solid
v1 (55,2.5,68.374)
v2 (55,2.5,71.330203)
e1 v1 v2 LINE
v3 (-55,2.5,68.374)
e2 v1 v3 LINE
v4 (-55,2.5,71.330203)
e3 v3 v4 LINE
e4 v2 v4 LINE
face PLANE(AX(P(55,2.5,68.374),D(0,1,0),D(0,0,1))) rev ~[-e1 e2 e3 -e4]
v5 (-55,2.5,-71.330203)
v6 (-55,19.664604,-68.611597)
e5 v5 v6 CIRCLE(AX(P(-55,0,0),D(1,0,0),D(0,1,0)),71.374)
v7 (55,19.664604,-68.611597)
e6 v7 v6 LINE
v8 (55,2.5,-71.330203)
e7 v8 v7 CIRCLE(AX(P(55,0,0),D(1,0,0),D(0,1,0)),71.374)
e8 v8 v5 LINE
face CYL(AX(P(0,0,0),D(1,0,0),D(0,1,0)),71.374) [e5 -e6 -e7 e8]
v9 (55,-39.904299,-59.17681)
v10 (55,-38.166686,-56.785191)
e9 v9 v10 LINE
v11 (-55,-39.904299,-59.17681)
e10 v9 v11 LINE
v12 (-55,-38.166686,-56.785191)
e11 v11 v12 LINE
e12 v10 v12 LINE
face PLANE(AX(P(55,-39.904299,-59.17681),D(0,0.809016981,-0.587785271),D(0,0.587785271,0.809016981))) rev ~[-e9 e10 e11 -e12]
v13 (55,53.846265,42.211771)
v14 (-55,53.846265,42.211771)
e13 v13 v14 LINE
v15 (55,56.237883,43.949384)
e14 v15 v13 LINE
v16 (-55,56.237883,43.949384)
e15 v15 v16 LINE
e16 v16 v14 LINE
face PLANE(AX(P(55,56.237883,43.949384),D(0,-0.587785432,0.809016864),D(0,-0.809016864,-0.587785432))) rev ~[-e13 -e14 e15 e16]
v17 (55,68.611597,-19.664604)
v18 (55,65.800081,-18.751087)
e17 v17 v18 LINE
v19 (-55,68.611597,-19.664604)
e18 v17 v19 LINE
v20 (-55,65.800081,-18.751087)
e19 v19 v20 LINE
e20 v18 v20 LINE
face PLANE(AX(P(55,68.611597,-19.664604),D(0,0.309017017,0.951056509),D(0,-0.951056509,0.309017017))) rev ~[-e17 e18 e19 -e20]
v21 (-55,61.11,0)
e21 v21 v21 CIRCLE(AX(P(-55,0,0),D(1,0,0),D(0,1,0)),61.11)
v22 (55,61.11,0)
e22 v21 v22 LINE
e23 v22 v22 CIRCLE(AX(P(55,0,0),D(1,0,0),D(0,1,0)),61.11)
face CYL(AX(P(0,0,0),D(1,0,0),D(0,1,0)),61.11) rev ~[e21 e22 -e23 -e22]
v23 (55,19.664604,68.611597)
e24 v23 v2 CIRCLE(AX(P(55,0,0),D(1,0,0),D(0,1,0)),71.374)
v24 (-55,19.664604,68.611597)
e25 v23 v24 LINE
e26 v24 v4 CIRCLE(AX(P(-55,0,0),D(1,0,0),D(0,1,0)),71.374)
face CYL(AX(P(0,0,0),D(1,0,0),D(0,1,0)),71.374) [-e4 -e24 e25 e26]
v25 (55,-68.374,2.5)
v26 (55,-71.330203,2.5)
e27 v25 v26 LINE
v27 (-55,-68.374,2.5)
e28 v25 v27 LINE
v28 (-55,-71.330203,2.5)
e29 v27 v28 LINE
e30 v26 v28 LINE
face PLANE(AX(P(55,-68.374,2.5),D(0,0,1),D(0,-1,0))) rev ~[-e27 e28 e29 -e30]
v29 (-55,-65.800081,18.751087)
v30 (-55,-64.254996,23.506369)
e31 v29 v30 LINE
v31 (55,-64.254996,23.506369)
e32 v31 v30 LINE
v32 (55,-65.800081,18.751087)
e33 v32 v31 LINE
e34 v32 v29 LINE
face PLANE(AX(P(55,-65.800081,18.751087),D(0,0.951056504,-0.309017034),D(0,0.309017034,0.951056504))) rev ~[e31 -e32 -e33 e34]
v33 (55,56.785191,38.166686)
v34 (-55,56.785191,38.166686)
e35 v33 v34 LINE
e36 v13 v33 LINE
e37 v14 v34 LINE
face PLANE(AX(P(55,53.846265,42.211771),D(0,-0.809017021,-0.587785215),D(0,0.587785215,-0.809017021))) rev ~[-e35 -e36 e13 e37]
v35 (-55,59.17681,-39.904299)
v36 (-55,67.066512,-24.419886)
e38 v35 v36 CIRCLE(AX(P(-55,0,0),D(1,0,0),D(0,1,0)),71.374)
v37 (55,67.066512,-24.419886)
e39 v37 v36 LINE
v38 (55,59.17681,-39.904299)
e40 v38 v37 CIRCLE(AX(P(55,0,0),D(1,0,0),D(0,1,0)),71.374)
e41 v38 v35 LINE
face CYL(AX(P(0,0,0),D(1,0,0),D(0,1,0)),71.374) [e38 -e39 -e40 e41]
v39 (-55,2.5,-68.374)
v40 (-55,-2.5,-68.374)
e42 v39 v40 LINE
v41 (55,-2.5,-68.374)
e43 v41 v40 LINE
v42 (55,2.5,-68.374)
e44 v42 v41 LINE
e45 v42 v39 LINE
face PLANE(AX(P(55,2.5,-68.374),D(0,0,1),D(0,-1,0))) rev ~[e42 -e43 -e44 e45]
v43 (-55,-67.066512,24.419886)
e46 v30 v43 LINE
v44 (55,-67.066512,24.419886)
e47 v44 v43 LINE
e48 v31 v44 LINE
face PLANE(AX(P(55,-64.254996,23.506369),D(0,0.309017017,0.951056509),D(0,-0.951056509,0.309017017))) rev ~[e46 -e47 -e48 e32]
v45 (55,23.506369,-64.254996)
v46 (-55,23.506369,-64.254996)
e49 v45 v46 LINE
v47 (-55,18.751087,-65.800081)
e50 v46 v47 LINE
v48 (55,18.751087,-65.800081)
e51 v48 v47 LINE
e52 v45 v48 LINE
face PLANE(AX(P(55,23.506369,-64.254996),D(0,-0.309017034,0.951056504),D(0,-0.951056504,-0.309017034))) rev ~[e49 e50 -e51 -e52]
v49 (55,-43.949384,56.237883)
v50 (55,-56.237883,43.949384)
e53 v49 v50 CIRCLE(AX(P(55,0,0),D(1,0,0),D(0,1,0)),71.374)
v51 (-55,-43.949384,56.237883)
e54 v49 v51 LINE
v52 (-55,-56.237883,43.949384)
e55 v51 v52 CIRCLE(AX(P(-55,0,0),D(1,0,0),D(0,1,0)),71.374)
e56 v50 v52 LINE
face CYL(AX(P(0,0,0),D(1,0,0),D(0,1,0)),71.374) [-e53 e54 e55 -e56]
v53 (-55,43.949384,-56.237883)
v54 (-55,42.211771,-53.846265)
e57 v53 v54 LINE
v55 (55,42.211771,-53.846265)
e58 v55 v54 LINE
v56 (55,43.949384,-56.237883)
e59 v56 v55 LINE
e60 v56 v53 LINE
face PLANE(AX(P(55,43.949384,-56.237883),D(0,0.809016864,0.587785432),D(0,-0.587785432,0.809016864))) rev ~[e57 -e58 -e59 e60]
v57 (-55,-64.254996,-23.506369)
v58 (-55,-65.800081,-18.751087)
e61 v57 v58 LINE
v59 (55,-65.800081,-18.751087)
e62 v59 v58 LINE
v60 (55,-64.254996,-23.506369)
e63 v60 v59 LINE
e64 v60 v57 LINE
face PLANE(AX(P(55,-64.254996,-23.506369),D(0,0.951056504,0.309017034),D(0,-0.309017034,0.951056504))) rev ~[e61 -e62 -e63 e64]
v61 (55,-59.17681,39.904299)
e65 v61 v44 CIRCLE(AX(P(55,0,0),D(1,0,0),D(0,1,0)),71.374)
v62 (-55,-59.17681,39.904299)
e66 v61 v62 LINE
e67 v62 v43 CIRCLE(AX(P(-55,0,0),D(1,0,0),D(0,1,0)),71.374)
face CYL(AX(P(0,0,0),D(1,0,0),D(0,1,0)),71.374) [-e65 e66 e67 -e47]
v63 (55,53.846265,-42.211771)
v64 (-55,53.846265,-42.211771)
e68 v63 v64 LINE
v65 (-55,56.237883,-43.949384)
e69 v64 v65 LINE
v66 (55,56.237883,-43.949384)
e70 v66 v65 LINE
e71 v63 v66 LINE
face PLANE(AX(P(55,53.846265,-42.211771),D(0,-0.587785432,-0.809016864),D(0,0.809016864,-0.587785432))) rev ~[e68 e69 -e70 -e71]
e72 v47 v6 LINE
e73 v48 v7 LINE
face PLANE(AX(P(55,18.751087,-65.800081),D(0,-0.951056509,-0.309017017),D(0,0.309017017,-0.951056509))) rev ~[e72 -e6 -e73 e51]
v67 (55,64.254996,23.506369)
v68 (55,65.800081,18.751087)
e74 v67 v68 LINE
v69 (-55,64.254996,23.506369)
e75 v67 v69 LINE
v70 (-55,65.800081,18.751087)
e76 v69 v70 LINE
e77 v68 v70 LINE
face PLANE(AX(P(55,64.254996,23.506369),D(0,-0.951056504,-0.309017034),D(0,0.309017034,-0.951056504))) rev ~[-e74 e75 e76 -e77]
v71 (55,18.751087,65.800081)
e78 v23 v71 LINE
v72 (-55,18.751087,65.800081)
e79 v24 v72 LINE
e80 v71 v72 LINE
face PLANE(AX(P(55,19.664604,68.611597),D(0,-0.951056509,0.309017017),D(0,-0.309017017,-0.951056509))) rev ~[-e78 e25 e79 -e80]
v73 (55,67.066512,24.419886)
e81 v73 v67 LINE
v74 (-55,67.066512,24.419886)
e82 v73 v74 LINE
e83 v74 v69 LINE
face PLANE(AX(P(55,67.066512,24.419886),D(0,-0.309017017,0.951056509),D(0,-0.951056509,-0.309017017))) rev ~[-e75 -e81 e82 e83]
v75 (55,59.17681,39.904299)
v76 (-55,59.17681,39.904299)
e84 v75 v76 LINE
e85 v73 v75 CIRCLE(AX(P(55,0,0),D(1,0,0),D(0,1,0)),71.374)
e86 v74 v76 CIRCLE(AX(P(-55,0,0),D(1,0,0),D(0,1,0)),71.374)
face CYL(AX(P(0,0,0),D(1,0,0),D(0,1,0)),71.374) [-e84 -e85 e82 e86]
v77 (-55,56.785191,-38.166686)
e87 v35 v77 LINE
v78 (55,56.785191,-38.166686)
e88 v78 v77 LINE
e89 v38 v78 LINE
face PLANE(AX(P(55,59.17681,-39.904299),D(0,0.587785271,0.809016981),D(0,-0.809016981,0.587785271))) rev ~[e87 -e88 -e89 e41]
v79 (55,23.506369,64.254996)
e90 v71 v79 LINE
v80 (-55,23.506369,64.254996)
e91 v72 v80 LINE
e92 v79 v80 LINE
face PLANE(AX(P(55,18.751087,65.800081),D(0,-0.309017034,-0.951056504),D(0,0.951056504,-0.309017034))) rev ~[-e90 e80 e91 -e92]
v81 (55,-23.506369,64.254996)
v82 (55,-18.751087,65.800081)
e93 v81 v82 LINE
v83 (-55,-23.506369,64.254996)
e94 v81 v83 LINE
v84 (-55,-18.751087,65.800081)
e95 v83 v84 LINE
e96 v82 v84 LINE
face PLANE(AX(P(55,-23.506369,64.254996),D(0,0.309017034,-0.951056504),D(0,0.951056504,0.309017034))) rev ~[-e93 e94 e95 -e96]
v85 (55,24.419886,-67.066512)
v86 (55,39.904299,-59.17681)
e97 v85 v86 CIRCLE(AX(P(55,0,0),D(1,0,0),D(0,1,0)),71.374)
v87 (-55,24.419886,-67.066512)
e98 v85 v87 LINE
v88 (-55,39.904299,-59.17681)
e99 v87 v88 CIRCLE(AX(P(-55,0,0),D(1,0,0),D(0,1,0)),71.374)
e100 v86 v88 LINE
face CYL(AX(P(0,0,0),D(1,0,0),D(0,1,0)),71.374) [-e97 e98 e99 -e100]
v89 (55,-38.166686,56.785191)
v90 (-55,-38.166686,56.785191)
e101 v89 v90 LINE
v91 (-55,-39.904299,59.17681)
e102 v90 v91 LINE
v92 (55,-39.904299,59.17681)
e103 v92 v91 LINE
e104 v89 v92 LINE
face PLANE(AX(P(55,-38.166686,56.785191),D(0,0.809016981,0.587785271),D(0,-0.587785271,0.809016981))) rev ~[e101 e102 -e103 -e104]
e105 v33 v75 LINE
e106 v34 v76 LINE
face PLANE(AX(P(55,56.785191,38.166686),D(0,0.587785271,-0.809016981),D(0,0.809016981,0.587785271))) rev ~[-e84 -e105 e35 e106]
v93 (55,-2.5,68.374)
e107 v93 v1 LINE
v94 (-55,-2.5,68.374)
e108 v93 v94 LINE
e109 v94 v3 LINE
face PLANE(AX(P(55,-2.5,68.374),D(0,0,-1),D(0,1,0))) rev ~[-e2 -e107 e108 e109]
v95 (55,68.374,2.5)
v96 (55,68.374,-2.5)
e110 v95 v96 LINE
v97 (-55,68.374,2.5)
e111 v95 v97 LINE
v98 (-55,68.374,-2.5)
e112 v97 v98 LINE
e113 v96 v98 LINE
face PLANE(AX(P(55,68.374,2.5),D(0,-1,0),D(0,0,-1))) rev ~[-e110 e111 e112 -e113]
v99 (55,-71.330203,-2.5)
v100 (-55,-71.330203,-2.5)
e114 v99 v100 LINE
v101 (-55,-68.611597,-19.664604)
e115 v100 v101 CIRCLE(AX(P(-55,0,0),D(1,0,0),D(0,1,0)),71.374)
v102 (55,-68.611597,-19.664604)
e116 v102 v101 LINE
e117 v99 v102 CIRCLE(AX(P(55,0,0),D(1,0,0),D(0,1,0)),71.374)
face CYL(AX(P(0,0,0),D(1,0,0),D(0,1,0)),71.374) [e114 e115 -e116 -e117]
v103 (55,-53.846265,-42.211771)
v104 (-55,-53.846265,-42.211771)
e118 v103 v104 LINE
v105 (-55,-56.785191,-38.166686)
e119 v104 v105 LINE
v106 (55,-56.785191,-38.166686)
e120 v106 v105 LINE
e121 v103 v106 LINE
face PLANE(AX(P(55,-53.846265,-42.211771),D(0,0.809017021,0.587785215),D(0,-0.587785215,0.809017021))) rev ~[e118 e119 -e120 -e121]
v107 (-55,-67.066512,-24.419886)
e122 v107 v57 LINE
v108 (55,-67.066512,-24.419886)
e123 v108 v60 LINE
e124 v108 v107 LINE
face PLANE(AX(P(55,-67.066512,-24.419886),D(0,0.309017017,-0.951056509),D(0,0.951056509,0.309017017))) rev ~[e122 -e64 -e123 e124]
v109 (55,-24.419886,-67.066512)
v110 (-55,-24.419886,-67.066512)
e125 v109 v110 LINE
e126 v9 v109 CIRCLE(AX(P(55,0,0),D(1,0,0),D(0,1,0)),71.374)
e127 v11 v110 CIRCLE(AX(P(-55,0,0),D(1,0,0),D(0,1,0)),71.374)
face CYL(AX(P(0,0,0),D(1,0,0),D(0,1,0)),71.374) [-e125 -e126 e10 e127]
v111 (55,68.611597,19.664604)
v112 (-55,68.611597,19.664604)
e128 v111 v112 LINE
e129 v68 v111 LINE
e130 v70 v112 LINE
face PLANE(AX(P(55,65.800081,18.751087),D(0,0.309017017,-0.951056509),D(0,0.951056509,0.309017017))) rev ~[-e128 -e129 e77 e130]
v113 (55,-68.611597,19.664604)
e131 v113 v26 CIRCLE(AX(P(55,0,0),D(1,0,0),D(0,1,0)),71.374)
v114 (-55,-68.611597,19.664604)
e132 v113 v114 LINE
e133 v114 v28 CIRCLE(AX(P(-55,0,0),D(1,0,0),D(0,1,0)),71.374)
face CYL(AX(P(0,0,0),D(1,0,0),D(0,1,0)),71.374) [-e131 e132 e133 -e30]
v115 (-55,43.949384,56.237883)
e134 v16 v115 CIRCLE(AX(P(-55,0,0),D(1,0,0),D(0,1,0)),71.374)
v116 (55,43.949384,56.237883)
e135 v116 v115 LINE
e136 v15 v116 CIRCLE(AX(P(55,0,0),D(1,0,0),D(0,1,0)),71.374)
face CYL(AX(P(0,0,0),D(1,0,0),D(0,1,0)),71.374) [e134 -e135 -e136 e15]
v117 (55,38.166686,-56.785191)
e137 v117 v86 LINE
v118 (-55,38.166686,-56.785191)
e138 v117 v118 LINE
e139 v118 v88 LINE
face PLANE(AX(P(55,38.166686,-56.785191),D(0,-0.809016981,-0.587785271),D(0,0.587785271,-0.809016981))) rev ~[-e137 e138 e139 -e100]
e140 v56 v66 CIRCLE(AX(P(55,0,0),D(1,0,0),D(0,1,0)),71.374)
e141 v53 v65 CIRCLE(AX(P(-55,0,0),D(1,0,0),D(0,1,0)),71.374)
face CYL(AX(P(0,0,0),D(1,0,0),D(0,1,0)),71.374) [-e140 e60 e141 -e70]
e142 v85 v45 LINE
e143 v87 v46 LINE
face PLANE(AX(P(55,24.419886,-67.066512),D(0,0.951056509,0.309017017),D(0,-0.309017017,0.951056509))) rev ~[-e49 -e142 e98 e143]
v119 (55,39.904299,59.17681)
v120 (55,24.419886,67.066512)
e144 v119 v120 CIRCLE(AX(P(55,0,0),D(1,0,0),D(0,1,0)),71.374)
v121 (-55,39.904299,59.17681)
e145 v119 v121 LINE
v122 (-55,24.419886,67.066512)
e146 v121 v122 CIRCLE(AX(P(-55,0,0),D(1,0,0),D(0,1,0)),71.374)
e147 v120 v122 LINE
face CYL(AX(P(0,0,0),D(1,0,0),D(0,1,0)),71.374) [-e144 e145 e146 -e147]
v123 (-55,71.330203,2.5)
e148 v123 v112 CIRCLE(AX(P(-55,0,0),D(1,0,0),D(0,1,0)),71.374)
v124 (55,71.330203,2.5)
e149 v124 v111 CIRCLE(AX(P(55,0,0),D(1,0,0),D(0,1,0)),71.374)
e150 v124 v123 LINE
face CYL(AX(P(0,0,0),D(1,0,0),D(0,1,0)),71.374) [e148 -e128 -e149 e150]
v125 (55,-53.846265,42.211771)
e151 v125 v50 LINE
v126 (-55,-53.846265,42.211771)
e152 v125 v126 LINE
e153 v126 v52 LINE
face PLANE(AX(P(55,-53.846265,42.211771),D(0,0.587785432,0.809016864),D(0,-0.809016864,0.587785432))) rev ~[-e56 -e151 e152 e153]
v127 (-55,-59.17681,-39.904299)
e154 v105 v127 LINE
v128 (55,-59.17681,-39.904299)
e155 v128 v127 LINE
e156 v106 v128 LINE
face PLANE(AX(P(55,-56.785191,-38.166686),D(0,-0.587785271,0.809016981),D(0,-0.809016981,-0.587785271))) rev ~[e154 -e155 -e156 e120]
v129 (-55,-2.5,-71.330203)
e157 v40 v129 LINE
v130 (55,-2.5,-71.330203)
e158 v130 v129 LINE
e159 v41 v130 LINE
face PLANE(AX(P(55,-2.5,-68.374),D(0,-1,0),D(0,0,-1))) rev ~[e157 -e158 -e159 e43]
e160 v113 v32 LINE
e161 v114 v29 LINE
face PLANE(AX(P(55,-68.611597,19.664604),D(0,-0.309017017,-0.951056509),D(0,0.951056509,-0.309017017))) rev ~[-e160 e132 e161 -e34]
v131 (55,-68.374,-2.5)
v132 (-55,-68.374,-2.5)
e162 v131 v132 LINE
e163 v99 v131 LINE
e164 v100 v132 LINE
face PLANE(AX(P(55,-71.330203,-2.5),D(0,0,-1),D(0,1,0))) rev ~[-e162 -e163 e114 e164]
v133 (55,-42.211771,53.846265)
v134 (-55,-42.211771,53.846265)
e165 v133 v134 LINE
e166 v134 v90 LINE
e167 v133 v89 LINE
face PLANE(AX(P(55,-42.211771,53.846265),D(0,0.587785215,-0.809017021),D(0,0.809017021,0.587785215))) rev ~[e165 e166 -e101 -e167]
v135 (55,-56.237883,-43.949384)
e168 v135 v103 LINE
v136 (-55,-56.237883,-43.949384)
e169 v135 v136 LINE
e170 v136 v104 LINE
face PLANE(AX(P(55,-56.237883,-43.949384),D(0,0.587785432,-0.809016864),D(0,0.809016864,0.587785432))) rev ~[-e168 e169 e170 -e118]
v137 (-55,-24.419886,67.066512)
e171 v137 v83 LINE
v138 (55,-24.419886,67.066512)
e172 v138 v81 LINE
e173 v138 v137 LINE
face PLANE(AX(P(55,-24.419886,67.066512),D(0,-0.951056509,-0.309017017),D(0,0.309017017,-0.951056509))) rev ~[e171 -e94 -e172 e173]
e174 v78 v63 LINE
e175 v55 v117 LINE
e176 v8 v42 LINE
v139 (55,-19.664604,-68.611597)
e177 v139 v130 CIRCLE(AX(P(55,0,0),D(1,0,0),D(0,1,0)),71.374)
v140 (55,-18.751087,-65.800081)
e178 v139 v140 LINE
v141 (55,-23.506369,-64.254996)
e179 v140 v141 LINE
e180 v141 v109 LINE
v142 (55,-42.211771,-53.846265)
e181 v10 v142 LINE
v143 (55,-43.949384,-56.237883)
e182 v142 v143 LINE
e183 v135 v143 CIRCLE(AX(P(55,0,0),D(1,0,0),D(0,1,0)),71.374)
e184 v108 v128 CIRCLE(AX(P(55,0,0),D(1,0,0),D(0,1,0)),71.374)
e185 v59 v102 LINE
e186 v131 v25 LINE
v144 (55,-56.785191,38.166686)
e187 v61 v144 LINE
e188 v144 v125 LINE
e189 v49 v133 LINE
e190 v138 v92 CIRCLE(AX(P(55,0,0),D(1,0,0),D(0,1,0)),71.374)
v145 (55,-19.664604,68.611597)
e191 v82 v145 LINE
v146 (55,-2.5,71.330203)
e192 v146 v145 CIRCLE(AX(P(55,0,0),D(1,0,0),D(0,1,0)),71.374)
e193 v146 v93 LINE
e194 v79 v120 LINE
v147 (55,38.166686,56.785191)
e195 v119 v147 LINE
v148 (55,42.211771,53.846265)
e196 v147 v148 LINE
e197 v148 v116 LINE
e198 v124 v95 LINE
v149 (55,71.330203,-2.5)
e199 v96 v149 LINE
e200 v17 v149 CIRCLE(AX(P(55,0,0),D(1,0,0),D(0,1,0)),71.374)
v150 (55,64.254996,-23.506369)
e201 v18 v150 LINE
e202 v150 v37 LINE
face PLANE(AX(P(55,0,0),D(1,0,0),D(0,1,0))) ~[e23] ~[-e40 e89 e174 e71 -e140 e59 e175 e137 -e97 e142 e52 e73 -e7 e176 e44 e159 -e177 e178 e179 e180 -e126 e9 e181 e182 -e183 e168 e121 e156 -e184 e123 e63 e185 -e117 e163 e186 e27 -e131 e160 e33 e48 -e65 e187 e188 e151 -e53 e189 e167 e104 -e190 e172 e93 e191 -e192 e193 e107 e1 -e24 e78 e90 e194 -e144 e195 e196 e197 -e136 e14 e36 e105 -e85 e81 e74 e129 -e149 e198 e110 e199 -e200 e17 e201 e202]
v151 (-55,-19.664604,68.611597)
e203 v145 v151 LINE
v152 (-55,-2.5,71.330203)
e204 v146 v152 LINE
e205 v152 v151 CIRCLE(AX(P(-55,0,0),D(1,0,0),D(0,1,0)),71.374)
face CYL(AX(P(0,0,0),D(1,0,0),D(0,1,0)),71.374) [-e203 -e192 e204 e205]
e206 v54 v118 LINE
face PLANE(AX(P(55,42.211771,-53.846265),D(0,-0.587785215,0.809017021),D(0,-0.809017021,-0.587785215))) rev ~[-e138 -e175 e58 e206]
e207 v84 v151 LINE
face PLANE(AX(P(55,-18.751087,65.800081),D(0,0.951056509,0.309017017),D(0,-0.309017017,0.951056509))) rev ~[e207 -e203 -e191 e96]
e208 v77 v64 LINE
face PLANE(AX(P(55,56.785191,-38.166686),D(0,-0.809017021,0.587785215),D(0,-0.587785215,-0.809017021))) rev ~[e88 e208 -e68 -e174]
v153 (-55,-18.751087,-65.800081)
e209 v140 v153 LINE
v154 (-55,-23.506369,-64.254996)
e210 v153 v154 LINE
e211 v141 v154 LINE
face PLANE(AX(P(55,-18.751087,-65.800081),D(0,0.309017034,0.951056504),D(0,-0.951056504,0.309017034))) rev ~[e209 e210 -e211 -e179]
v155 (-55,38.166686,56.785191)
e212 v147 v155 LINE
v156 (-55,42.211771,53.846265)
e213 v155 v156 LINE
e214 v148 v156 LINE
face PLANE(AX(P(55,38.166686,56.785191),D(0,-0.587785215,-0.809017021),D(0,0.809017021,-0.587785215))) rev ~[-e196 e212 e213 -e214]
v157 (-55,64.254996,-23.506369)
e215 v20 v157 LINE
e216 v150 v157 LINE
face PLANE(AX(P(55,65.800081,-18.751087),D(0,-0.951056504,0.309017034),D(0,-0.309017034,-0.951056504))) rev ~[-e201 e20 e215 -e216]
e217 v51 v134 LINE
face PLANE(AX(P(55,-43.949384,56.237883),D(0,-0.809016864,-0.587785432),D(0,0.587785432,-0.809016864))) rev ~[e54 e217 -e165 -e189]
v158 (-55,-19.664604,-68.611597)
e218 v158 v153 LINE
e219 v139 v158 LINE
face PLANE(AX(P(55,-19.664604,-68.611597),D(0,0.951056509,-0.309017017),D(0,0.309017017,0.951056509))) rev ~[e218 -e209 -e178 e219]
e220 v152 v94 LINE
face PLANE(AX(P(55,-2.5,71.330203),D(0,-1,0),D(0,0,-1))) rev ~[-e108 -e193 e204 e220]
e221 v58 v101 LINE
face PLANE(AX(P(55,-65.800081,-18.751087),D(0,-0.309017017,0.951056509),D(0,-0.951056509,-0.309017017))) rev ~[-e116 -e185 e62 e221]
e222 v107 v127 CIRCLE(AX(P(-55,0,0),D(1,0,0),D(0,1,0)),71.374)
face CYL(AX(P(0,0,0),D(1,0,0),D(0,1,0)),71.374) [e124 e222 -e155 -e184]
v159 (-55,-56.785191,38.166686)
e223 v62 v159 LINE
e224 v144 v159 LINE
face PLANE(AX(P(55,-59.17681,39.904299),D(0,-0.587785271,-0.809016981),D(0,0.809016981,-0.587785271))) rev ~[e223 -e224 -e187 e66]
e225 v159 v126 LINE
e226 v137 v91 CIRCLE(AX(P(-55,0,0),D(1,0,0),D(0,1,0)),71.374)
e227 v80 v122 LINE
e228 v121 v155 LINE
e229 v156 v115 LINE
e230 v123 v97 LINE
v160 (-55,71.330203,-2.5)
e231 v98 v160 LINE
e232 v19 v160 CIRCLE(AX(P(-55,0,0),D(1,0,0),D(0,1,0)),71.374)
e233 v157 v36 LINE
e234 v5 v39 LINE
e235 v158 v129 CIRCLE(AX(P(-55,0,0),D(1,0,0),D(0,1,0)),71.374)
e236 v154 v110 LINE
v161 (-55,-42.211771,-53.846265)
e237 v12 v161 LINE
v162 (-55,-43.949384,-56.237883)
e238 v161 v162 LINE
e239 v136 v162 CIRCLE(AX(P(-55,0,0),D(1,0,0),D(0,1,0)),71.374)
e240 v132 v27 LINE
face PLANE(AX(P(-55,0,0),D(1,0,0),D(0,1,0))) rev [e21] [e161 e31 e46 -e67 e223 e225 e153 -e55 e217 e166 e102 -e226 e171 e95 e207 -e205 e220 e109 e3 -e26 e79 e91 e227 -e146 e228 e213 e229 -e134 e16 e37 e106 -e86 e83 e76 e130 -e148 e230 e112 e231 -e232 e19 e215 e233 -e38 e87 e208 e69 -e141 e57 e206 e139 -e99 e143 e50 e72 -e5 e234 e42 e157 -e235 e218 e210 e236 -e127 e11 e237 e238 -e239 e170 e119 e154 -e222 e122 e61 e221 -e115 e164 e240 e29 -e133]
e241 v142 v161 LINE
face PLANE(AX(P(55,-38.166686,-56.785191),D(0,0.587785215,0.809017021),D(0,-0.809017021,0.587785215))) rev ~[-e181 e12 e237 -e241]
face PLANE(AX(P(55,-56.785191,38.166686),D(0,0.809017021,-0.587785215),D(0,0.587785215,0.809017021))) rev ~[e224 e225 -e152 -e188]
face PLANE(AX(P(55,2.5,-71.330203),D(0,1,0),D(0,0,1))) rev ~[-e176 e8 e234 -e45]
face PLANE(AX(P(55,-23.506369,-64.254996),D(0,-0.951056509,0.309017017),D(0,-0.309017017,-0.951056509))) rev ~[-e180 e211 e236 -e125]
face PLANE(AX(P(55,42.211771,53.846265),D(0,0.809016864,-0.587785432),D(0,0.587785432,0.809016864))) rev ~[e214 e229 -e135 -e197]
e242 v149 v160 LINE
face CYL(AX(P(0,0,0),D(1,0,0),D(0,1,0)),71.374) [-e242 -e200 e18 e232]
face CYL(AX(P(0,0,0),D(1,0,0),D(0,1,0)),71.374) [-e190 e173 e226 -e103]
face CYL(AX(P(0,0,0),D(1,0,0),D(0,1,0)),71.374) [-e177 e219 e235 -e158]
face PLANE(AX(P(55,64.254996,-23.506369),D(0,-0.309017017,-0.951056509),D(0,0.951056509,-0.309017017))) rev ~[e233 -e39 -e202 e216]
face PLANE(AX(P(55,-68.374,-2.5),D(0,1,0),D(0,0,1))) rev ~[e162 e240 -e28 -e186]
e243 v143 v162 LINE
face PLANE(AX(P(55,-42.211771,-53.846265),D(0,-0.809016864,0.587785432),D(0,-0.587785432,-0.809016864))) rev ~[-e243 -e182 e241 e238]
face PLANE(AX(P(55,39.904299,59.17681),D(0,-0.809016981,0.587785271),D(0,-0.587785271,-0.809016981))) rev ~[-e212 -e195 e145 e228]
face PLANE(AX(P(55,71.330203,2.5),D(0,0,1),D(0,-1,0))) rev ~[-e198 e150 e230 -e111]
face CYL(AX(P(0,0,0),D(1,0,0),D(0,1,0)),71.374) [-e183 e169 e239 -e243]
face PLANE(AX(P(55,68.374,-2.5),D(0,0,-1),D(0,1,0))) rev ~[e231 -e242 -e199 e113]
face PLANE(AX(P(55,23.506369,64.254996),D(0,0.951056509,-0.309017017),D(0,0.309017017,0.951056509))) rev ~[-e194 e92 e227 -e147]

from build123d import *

# Parameters (mm, degrees)
F0_W     = 110
F0_H     = 10.264
F3_DEPTH = 110


with BuildPart() as f1:
    # F0 (on Top) → F1 (revolve)
    with BuildSketch(Plane.XY):
        with Locations((0, 66.242)):
            Rectangle(F0_W, F0_H)
    revolve(axis=Axis((32.912049, 0, 0), (1, 0, 0)))

    # F2 (on face) → F3 (cut, through all)
    with BuildSketch(Plane.YZ.offset(55)):
        with BuildLine():
            ThreePointArc((2.5, 71.330203), (1.250192, 71.36305), (0, 71.374))
            ThreePointArc((0, 71.374), (-1.250192, 71.36305), (-2.5, 71.330203))
            Line((-2.5, 71.330203), (-2.5, 68.374))
            Line((-2.5, 68.374), (2.5, 68.374))
            Line((2.5, 68.374), (2.5, 71.330203))
        make_face()
        with BuildLine():
            ThreePointArc((22.055779, 67.880708), (20.863392, 68.256624), (19.664604, 68.611597))
            Line((19.664604, 68.611597), (18.751087, 65.800081))
            Line((18.751087, 65.800081), (23.506369, 64.254996))
            Line((23.506369, 64.254996), (24.419886, 67.066512))
            ThreePointArc((24.419886, 67.066512), (23.241398, 67.483963), (22.055779, 67.880708))
        make_face()
        with BuildLine():
            ThreePointArc((41.952585, 57.742779), (40.934722, 58.468764), (39.904299, 59.17681))
            Line((39.904299, 59.17681), (38.166686, 56.785191))
            Line((38.166686, 56.785191), (42.211771, 53.846265))
            Line((42.211771, 53.846265), (43.949384, 56.237883))
            ThreePointArc((43.949384, 56.237883), (42.957575, 56.999076), (41.952585, 57.742779))
        make_face()
        with BuildLine():
            ThreePointArc((57.742779, 41.952585), (56.999076, 42.957575), (56.237883, 43.949384))
            Line((56.237883, 43.949384), (53.846265, 42.211771))
            Line((53.846265, 42.211771), (56.785191, 38.166686))
            Line((56.785191, 38.166686), (59.17681, 39.904299))
            ThreePointArc((59.17681, 39.904299), (58.468765, 40.934722), (57.742779, 41.952585))
        make_face()
        with BuildLine():
            ThreePointArc((67.880708, 22.055779), (67.483963, 23.241398), (67.066512, 24.419886))
            Line((67.066512, 24.419886), (64.254996, 23.506369))
            Line((64.254996, 23.506369), (65.800081, 18.751087))
            Line((65.800081, 18.751087), (68.611597, 19.664604))
            ThreePointArc((68.611597, 19.664604), (68.256624, 20.863392), (67.880708, 22.055779))
        make_face()
        with BuildLine():
            ThreePointArc((71.374, 0), (71.36305, 1.250192), (71.330203, 2.5))
            Line((71.330203, 2.5), (68.374, 2.5))
            Line((68.374, 2.5), (68.374, -2.5))
            Line((68.374, -2.5), (71.330203, -2.5))
            ThreePointArc((71.330203, -2.5), (71.36305, -1.250192), (71.374, 0))
        make_face()
        with BuildLine():
            ThreePointArc((67.880708, -22.055779), (68.256624, -20.863392), (68.611597, -19.664604))
            Line((68.611597, -19.664604), (65.800081, -18.751087))
            Line((65.800081, -18.751087), (64.254996, -23.506369))
            Line((64.254996, -23.506369), (67.066512, -24.419886))
            ThreePointArc((67.066512, -24.419886), (67.483963, -23.241398), (67.880708, -22.055779))
        make_face()
        with BuildLine():
            ThreePointArc((57.742779, -41.952584), (58.468765, -40.934722), (59.17681, -39.904299))
            Line((59.17681, -39.904299), (56.785191, -38.166686))
            Line((56.785191, -38.166686), (53.846265, -42.211771))
            Line((53.846265, -42.211771), (56.237883, -43.949384))
            ThreePointArc((56.237883, -43.949384), (56.999076, -42.957575), (57.742779, -41.952584))
        make_face()
        with BuildLine():
            ThreePointArc((41.952585, -57.742779), (42.957575, -56.999076), (43.949384, -56.237883))
            Line((43.949384, -56.237883), (42.211771, -53.846265))
            Line((42.211771, -53.846265), (38.166686, -56.785191))
            Line((38.166686, -56.785191), (39.904299, -59.17681))
            ThreePointArc((39.904299, -59.17681), (40.934722, -58.468764), (41.952585, -57.742779))
        make_face()
        with BuildLine():
            ThreePointArc((22.055779, -67.880708), (23.241398, -67.483963), (24.419886, -67.066512))
            Line((24.419886, -67.066512), (23.506369, -64.254996))
            Line((23.506369, -64.254996), (18.751087, -65.800081))
            Line((18.751087, -65.800081), (19.664604, -68.611597))
            ThreePointArc((19.664604, -68.611597), (20.863392, -68.256624), (22.055779, -67.880708))
        make_face()
        with BuildLine():
            Line((-2.5, -68.374), (-2.5, -71.330203))
            ThreePointArc((-2.5, -71.330203), (-1.250192, -71.36305), (0, -71.374))
            ThreePointArc((0, -71.374), (1.250192, -71.36305), (2.5, -71.330203))
            Line((2.5, -71.330203), (2.5, -68.374))
            Line((2.5, -68.374), (-2.5, -68.374))
        make_face()
        with BuildLine():
            Line((-23.506369, -64.254996), (-24.419886, -67.066512))
            ThreePointArc((-24.419886, -67.066512), (-23.241398, -67.483963), (-22.055779, -67.880708))
            ThreePointArc((-22.055779, -67.880708), (-20.863392, -68.256624), (-19.664604, -68.611597))
            Line((-19.664604, -68.611597), (-18.751087, -65.800081))
            Line((-18.751087, -65.800081), (-23.506369, -64.254996))
        make_face()
        with BuildLine():
            Line((-42.211771, -53.846265), (-43.949384, -56.237883))
            ThreePointArc((-43.949384, -56.237883), (-42.957575, -56.999076), (-41.952585, -57.742779))
            ThreePointArc((-41.952585, -57.742779), (-40.934722, -58.468764), (-39.904299, -59.17681))
            Line((-39.904299, -59.17681), (-38.166686, -56.785191))
            Line((-38.166686, -56.785191), (-42.211771, -53.846265))
        make_face()
        with BuildLine():
            Line((-56.785191, -38.166686), (-59.17681, -39.904299))
            ThreePointArc((-59.17681, -39.904299), (-58.468764, -40.934722), (-57.742779, -41.952585))
            ThreePointArc((-57.742779, -41.952585), (-56.999076, -42.957575), (-56.237883, -43.949384))
            Line((-56.237883, -43.949384), (-53.846265, -42.211771))
            Line((-53.846265, -42.211771), (-56.785191, -38.166686))
        make_face()
        with BuildLine():
            Line((-65.800081, -18.751087), (-68.611597, -19.664604))
            ThreePointArc((-68.611597, -19.664604), (-68.256624, -20.863392), (-67.880708, -22.055779))
            ThreePointArc((-67.880708, -22.055779), (-67.483963, -23.241398), (-67.066512, -24.419886))
            Line((-67.066512, -24.419886), (-64.254996, -23.506369))
            Line((-64.254996, -23.506369), (-65.800081, -18.751087))
        make_face()
        with BuildLine():
            Line((-68.374, 2.5), (-71.330203, 2.5))
            ThreePointArc((-71.330203, 2.5), (-71.36305, 1.250192), (-71.374, 0))
            ThreePointArc((-71.374, 0), (-71.36305, -1.250192), (-71.330203, -2.5))
            Line((-71.330203, -2.5), (-68.374, -2.5))
            Line((-68.374, -2.5), (-68.374, 2.5))
        make_face()
        with BuildLine():
            Line((-64.254996, 23.506369), (-67.066512, 24.419886))
            ThreePointArc((-67.066512, 24.419886), (-67.483963, 23.241399), (-67.880708, 22.05578))
            ThreePointArc((-67.880708, 22.05578), (-68.256624, 20.863392), (-68.611597, 19.664604))
            Line((-68.611597, 19.664604), (-65.800081, 18.751087))
            Line((-65.800081, 18.751087), (-64.254996, 23.506369))
        make_face()
        with BuildLine():
            Line((-53.846265, 42.211771), (-56.237883, 43.949384))
            ThreePointArc((-56.237883, 43.949384), (-56.999076, 42.957575), (-57.742779, 41.952585))
            ThreePointArc((-57.742779, 41.952585), (-58.468764, 40.934722), (-59.17681, 39.904299))
            Line((-59.17681, 39.904299), (-56.785191, 38.166686))
            Line((-56.785191, 38.166686), (-53.846265, 42.211771))
        make_face()
        with BuildLine():
            Line((-38.166686, 56.785191), (-39.904299, 59.17681))
            ThreePointArc((-39.904299, 59.17681), (-40.934722, 58.468764), (-41.952585, 57.742779))
            ThreePointArc((-41.952585, 57.742779), (-42.957575, 56.999076), (-43.949384, 56.237883))
            Line((-43.949384, 56.237883), (-42.211771, 53.846265))
            Line((-42.211771, 53.846265), (-38.166686, 56.785191))
        make_face()
        with BuildLine():
            Line((-18.751087, 65.800081), (-19.664604, 68.611597))
            ThreePointArc((-19.664604, 68.611597), (-20.863392, 68.256624), (-22.055779, 67.880708))
            ThreePointArc((-22.055779, 67.880708), (-23.241398, 67.483963), (-24.419886, 67.066512))
            Line((-24.419886, 67.066512), (-23.506369, 64.254996))
            Line((-23.506369, 64.254996), (-18.751087, 65.800081))
        make_face()
    extrude(amount=-F3_DEPTH, mode=Mode.SUBTRACT)


solid = f1.part
